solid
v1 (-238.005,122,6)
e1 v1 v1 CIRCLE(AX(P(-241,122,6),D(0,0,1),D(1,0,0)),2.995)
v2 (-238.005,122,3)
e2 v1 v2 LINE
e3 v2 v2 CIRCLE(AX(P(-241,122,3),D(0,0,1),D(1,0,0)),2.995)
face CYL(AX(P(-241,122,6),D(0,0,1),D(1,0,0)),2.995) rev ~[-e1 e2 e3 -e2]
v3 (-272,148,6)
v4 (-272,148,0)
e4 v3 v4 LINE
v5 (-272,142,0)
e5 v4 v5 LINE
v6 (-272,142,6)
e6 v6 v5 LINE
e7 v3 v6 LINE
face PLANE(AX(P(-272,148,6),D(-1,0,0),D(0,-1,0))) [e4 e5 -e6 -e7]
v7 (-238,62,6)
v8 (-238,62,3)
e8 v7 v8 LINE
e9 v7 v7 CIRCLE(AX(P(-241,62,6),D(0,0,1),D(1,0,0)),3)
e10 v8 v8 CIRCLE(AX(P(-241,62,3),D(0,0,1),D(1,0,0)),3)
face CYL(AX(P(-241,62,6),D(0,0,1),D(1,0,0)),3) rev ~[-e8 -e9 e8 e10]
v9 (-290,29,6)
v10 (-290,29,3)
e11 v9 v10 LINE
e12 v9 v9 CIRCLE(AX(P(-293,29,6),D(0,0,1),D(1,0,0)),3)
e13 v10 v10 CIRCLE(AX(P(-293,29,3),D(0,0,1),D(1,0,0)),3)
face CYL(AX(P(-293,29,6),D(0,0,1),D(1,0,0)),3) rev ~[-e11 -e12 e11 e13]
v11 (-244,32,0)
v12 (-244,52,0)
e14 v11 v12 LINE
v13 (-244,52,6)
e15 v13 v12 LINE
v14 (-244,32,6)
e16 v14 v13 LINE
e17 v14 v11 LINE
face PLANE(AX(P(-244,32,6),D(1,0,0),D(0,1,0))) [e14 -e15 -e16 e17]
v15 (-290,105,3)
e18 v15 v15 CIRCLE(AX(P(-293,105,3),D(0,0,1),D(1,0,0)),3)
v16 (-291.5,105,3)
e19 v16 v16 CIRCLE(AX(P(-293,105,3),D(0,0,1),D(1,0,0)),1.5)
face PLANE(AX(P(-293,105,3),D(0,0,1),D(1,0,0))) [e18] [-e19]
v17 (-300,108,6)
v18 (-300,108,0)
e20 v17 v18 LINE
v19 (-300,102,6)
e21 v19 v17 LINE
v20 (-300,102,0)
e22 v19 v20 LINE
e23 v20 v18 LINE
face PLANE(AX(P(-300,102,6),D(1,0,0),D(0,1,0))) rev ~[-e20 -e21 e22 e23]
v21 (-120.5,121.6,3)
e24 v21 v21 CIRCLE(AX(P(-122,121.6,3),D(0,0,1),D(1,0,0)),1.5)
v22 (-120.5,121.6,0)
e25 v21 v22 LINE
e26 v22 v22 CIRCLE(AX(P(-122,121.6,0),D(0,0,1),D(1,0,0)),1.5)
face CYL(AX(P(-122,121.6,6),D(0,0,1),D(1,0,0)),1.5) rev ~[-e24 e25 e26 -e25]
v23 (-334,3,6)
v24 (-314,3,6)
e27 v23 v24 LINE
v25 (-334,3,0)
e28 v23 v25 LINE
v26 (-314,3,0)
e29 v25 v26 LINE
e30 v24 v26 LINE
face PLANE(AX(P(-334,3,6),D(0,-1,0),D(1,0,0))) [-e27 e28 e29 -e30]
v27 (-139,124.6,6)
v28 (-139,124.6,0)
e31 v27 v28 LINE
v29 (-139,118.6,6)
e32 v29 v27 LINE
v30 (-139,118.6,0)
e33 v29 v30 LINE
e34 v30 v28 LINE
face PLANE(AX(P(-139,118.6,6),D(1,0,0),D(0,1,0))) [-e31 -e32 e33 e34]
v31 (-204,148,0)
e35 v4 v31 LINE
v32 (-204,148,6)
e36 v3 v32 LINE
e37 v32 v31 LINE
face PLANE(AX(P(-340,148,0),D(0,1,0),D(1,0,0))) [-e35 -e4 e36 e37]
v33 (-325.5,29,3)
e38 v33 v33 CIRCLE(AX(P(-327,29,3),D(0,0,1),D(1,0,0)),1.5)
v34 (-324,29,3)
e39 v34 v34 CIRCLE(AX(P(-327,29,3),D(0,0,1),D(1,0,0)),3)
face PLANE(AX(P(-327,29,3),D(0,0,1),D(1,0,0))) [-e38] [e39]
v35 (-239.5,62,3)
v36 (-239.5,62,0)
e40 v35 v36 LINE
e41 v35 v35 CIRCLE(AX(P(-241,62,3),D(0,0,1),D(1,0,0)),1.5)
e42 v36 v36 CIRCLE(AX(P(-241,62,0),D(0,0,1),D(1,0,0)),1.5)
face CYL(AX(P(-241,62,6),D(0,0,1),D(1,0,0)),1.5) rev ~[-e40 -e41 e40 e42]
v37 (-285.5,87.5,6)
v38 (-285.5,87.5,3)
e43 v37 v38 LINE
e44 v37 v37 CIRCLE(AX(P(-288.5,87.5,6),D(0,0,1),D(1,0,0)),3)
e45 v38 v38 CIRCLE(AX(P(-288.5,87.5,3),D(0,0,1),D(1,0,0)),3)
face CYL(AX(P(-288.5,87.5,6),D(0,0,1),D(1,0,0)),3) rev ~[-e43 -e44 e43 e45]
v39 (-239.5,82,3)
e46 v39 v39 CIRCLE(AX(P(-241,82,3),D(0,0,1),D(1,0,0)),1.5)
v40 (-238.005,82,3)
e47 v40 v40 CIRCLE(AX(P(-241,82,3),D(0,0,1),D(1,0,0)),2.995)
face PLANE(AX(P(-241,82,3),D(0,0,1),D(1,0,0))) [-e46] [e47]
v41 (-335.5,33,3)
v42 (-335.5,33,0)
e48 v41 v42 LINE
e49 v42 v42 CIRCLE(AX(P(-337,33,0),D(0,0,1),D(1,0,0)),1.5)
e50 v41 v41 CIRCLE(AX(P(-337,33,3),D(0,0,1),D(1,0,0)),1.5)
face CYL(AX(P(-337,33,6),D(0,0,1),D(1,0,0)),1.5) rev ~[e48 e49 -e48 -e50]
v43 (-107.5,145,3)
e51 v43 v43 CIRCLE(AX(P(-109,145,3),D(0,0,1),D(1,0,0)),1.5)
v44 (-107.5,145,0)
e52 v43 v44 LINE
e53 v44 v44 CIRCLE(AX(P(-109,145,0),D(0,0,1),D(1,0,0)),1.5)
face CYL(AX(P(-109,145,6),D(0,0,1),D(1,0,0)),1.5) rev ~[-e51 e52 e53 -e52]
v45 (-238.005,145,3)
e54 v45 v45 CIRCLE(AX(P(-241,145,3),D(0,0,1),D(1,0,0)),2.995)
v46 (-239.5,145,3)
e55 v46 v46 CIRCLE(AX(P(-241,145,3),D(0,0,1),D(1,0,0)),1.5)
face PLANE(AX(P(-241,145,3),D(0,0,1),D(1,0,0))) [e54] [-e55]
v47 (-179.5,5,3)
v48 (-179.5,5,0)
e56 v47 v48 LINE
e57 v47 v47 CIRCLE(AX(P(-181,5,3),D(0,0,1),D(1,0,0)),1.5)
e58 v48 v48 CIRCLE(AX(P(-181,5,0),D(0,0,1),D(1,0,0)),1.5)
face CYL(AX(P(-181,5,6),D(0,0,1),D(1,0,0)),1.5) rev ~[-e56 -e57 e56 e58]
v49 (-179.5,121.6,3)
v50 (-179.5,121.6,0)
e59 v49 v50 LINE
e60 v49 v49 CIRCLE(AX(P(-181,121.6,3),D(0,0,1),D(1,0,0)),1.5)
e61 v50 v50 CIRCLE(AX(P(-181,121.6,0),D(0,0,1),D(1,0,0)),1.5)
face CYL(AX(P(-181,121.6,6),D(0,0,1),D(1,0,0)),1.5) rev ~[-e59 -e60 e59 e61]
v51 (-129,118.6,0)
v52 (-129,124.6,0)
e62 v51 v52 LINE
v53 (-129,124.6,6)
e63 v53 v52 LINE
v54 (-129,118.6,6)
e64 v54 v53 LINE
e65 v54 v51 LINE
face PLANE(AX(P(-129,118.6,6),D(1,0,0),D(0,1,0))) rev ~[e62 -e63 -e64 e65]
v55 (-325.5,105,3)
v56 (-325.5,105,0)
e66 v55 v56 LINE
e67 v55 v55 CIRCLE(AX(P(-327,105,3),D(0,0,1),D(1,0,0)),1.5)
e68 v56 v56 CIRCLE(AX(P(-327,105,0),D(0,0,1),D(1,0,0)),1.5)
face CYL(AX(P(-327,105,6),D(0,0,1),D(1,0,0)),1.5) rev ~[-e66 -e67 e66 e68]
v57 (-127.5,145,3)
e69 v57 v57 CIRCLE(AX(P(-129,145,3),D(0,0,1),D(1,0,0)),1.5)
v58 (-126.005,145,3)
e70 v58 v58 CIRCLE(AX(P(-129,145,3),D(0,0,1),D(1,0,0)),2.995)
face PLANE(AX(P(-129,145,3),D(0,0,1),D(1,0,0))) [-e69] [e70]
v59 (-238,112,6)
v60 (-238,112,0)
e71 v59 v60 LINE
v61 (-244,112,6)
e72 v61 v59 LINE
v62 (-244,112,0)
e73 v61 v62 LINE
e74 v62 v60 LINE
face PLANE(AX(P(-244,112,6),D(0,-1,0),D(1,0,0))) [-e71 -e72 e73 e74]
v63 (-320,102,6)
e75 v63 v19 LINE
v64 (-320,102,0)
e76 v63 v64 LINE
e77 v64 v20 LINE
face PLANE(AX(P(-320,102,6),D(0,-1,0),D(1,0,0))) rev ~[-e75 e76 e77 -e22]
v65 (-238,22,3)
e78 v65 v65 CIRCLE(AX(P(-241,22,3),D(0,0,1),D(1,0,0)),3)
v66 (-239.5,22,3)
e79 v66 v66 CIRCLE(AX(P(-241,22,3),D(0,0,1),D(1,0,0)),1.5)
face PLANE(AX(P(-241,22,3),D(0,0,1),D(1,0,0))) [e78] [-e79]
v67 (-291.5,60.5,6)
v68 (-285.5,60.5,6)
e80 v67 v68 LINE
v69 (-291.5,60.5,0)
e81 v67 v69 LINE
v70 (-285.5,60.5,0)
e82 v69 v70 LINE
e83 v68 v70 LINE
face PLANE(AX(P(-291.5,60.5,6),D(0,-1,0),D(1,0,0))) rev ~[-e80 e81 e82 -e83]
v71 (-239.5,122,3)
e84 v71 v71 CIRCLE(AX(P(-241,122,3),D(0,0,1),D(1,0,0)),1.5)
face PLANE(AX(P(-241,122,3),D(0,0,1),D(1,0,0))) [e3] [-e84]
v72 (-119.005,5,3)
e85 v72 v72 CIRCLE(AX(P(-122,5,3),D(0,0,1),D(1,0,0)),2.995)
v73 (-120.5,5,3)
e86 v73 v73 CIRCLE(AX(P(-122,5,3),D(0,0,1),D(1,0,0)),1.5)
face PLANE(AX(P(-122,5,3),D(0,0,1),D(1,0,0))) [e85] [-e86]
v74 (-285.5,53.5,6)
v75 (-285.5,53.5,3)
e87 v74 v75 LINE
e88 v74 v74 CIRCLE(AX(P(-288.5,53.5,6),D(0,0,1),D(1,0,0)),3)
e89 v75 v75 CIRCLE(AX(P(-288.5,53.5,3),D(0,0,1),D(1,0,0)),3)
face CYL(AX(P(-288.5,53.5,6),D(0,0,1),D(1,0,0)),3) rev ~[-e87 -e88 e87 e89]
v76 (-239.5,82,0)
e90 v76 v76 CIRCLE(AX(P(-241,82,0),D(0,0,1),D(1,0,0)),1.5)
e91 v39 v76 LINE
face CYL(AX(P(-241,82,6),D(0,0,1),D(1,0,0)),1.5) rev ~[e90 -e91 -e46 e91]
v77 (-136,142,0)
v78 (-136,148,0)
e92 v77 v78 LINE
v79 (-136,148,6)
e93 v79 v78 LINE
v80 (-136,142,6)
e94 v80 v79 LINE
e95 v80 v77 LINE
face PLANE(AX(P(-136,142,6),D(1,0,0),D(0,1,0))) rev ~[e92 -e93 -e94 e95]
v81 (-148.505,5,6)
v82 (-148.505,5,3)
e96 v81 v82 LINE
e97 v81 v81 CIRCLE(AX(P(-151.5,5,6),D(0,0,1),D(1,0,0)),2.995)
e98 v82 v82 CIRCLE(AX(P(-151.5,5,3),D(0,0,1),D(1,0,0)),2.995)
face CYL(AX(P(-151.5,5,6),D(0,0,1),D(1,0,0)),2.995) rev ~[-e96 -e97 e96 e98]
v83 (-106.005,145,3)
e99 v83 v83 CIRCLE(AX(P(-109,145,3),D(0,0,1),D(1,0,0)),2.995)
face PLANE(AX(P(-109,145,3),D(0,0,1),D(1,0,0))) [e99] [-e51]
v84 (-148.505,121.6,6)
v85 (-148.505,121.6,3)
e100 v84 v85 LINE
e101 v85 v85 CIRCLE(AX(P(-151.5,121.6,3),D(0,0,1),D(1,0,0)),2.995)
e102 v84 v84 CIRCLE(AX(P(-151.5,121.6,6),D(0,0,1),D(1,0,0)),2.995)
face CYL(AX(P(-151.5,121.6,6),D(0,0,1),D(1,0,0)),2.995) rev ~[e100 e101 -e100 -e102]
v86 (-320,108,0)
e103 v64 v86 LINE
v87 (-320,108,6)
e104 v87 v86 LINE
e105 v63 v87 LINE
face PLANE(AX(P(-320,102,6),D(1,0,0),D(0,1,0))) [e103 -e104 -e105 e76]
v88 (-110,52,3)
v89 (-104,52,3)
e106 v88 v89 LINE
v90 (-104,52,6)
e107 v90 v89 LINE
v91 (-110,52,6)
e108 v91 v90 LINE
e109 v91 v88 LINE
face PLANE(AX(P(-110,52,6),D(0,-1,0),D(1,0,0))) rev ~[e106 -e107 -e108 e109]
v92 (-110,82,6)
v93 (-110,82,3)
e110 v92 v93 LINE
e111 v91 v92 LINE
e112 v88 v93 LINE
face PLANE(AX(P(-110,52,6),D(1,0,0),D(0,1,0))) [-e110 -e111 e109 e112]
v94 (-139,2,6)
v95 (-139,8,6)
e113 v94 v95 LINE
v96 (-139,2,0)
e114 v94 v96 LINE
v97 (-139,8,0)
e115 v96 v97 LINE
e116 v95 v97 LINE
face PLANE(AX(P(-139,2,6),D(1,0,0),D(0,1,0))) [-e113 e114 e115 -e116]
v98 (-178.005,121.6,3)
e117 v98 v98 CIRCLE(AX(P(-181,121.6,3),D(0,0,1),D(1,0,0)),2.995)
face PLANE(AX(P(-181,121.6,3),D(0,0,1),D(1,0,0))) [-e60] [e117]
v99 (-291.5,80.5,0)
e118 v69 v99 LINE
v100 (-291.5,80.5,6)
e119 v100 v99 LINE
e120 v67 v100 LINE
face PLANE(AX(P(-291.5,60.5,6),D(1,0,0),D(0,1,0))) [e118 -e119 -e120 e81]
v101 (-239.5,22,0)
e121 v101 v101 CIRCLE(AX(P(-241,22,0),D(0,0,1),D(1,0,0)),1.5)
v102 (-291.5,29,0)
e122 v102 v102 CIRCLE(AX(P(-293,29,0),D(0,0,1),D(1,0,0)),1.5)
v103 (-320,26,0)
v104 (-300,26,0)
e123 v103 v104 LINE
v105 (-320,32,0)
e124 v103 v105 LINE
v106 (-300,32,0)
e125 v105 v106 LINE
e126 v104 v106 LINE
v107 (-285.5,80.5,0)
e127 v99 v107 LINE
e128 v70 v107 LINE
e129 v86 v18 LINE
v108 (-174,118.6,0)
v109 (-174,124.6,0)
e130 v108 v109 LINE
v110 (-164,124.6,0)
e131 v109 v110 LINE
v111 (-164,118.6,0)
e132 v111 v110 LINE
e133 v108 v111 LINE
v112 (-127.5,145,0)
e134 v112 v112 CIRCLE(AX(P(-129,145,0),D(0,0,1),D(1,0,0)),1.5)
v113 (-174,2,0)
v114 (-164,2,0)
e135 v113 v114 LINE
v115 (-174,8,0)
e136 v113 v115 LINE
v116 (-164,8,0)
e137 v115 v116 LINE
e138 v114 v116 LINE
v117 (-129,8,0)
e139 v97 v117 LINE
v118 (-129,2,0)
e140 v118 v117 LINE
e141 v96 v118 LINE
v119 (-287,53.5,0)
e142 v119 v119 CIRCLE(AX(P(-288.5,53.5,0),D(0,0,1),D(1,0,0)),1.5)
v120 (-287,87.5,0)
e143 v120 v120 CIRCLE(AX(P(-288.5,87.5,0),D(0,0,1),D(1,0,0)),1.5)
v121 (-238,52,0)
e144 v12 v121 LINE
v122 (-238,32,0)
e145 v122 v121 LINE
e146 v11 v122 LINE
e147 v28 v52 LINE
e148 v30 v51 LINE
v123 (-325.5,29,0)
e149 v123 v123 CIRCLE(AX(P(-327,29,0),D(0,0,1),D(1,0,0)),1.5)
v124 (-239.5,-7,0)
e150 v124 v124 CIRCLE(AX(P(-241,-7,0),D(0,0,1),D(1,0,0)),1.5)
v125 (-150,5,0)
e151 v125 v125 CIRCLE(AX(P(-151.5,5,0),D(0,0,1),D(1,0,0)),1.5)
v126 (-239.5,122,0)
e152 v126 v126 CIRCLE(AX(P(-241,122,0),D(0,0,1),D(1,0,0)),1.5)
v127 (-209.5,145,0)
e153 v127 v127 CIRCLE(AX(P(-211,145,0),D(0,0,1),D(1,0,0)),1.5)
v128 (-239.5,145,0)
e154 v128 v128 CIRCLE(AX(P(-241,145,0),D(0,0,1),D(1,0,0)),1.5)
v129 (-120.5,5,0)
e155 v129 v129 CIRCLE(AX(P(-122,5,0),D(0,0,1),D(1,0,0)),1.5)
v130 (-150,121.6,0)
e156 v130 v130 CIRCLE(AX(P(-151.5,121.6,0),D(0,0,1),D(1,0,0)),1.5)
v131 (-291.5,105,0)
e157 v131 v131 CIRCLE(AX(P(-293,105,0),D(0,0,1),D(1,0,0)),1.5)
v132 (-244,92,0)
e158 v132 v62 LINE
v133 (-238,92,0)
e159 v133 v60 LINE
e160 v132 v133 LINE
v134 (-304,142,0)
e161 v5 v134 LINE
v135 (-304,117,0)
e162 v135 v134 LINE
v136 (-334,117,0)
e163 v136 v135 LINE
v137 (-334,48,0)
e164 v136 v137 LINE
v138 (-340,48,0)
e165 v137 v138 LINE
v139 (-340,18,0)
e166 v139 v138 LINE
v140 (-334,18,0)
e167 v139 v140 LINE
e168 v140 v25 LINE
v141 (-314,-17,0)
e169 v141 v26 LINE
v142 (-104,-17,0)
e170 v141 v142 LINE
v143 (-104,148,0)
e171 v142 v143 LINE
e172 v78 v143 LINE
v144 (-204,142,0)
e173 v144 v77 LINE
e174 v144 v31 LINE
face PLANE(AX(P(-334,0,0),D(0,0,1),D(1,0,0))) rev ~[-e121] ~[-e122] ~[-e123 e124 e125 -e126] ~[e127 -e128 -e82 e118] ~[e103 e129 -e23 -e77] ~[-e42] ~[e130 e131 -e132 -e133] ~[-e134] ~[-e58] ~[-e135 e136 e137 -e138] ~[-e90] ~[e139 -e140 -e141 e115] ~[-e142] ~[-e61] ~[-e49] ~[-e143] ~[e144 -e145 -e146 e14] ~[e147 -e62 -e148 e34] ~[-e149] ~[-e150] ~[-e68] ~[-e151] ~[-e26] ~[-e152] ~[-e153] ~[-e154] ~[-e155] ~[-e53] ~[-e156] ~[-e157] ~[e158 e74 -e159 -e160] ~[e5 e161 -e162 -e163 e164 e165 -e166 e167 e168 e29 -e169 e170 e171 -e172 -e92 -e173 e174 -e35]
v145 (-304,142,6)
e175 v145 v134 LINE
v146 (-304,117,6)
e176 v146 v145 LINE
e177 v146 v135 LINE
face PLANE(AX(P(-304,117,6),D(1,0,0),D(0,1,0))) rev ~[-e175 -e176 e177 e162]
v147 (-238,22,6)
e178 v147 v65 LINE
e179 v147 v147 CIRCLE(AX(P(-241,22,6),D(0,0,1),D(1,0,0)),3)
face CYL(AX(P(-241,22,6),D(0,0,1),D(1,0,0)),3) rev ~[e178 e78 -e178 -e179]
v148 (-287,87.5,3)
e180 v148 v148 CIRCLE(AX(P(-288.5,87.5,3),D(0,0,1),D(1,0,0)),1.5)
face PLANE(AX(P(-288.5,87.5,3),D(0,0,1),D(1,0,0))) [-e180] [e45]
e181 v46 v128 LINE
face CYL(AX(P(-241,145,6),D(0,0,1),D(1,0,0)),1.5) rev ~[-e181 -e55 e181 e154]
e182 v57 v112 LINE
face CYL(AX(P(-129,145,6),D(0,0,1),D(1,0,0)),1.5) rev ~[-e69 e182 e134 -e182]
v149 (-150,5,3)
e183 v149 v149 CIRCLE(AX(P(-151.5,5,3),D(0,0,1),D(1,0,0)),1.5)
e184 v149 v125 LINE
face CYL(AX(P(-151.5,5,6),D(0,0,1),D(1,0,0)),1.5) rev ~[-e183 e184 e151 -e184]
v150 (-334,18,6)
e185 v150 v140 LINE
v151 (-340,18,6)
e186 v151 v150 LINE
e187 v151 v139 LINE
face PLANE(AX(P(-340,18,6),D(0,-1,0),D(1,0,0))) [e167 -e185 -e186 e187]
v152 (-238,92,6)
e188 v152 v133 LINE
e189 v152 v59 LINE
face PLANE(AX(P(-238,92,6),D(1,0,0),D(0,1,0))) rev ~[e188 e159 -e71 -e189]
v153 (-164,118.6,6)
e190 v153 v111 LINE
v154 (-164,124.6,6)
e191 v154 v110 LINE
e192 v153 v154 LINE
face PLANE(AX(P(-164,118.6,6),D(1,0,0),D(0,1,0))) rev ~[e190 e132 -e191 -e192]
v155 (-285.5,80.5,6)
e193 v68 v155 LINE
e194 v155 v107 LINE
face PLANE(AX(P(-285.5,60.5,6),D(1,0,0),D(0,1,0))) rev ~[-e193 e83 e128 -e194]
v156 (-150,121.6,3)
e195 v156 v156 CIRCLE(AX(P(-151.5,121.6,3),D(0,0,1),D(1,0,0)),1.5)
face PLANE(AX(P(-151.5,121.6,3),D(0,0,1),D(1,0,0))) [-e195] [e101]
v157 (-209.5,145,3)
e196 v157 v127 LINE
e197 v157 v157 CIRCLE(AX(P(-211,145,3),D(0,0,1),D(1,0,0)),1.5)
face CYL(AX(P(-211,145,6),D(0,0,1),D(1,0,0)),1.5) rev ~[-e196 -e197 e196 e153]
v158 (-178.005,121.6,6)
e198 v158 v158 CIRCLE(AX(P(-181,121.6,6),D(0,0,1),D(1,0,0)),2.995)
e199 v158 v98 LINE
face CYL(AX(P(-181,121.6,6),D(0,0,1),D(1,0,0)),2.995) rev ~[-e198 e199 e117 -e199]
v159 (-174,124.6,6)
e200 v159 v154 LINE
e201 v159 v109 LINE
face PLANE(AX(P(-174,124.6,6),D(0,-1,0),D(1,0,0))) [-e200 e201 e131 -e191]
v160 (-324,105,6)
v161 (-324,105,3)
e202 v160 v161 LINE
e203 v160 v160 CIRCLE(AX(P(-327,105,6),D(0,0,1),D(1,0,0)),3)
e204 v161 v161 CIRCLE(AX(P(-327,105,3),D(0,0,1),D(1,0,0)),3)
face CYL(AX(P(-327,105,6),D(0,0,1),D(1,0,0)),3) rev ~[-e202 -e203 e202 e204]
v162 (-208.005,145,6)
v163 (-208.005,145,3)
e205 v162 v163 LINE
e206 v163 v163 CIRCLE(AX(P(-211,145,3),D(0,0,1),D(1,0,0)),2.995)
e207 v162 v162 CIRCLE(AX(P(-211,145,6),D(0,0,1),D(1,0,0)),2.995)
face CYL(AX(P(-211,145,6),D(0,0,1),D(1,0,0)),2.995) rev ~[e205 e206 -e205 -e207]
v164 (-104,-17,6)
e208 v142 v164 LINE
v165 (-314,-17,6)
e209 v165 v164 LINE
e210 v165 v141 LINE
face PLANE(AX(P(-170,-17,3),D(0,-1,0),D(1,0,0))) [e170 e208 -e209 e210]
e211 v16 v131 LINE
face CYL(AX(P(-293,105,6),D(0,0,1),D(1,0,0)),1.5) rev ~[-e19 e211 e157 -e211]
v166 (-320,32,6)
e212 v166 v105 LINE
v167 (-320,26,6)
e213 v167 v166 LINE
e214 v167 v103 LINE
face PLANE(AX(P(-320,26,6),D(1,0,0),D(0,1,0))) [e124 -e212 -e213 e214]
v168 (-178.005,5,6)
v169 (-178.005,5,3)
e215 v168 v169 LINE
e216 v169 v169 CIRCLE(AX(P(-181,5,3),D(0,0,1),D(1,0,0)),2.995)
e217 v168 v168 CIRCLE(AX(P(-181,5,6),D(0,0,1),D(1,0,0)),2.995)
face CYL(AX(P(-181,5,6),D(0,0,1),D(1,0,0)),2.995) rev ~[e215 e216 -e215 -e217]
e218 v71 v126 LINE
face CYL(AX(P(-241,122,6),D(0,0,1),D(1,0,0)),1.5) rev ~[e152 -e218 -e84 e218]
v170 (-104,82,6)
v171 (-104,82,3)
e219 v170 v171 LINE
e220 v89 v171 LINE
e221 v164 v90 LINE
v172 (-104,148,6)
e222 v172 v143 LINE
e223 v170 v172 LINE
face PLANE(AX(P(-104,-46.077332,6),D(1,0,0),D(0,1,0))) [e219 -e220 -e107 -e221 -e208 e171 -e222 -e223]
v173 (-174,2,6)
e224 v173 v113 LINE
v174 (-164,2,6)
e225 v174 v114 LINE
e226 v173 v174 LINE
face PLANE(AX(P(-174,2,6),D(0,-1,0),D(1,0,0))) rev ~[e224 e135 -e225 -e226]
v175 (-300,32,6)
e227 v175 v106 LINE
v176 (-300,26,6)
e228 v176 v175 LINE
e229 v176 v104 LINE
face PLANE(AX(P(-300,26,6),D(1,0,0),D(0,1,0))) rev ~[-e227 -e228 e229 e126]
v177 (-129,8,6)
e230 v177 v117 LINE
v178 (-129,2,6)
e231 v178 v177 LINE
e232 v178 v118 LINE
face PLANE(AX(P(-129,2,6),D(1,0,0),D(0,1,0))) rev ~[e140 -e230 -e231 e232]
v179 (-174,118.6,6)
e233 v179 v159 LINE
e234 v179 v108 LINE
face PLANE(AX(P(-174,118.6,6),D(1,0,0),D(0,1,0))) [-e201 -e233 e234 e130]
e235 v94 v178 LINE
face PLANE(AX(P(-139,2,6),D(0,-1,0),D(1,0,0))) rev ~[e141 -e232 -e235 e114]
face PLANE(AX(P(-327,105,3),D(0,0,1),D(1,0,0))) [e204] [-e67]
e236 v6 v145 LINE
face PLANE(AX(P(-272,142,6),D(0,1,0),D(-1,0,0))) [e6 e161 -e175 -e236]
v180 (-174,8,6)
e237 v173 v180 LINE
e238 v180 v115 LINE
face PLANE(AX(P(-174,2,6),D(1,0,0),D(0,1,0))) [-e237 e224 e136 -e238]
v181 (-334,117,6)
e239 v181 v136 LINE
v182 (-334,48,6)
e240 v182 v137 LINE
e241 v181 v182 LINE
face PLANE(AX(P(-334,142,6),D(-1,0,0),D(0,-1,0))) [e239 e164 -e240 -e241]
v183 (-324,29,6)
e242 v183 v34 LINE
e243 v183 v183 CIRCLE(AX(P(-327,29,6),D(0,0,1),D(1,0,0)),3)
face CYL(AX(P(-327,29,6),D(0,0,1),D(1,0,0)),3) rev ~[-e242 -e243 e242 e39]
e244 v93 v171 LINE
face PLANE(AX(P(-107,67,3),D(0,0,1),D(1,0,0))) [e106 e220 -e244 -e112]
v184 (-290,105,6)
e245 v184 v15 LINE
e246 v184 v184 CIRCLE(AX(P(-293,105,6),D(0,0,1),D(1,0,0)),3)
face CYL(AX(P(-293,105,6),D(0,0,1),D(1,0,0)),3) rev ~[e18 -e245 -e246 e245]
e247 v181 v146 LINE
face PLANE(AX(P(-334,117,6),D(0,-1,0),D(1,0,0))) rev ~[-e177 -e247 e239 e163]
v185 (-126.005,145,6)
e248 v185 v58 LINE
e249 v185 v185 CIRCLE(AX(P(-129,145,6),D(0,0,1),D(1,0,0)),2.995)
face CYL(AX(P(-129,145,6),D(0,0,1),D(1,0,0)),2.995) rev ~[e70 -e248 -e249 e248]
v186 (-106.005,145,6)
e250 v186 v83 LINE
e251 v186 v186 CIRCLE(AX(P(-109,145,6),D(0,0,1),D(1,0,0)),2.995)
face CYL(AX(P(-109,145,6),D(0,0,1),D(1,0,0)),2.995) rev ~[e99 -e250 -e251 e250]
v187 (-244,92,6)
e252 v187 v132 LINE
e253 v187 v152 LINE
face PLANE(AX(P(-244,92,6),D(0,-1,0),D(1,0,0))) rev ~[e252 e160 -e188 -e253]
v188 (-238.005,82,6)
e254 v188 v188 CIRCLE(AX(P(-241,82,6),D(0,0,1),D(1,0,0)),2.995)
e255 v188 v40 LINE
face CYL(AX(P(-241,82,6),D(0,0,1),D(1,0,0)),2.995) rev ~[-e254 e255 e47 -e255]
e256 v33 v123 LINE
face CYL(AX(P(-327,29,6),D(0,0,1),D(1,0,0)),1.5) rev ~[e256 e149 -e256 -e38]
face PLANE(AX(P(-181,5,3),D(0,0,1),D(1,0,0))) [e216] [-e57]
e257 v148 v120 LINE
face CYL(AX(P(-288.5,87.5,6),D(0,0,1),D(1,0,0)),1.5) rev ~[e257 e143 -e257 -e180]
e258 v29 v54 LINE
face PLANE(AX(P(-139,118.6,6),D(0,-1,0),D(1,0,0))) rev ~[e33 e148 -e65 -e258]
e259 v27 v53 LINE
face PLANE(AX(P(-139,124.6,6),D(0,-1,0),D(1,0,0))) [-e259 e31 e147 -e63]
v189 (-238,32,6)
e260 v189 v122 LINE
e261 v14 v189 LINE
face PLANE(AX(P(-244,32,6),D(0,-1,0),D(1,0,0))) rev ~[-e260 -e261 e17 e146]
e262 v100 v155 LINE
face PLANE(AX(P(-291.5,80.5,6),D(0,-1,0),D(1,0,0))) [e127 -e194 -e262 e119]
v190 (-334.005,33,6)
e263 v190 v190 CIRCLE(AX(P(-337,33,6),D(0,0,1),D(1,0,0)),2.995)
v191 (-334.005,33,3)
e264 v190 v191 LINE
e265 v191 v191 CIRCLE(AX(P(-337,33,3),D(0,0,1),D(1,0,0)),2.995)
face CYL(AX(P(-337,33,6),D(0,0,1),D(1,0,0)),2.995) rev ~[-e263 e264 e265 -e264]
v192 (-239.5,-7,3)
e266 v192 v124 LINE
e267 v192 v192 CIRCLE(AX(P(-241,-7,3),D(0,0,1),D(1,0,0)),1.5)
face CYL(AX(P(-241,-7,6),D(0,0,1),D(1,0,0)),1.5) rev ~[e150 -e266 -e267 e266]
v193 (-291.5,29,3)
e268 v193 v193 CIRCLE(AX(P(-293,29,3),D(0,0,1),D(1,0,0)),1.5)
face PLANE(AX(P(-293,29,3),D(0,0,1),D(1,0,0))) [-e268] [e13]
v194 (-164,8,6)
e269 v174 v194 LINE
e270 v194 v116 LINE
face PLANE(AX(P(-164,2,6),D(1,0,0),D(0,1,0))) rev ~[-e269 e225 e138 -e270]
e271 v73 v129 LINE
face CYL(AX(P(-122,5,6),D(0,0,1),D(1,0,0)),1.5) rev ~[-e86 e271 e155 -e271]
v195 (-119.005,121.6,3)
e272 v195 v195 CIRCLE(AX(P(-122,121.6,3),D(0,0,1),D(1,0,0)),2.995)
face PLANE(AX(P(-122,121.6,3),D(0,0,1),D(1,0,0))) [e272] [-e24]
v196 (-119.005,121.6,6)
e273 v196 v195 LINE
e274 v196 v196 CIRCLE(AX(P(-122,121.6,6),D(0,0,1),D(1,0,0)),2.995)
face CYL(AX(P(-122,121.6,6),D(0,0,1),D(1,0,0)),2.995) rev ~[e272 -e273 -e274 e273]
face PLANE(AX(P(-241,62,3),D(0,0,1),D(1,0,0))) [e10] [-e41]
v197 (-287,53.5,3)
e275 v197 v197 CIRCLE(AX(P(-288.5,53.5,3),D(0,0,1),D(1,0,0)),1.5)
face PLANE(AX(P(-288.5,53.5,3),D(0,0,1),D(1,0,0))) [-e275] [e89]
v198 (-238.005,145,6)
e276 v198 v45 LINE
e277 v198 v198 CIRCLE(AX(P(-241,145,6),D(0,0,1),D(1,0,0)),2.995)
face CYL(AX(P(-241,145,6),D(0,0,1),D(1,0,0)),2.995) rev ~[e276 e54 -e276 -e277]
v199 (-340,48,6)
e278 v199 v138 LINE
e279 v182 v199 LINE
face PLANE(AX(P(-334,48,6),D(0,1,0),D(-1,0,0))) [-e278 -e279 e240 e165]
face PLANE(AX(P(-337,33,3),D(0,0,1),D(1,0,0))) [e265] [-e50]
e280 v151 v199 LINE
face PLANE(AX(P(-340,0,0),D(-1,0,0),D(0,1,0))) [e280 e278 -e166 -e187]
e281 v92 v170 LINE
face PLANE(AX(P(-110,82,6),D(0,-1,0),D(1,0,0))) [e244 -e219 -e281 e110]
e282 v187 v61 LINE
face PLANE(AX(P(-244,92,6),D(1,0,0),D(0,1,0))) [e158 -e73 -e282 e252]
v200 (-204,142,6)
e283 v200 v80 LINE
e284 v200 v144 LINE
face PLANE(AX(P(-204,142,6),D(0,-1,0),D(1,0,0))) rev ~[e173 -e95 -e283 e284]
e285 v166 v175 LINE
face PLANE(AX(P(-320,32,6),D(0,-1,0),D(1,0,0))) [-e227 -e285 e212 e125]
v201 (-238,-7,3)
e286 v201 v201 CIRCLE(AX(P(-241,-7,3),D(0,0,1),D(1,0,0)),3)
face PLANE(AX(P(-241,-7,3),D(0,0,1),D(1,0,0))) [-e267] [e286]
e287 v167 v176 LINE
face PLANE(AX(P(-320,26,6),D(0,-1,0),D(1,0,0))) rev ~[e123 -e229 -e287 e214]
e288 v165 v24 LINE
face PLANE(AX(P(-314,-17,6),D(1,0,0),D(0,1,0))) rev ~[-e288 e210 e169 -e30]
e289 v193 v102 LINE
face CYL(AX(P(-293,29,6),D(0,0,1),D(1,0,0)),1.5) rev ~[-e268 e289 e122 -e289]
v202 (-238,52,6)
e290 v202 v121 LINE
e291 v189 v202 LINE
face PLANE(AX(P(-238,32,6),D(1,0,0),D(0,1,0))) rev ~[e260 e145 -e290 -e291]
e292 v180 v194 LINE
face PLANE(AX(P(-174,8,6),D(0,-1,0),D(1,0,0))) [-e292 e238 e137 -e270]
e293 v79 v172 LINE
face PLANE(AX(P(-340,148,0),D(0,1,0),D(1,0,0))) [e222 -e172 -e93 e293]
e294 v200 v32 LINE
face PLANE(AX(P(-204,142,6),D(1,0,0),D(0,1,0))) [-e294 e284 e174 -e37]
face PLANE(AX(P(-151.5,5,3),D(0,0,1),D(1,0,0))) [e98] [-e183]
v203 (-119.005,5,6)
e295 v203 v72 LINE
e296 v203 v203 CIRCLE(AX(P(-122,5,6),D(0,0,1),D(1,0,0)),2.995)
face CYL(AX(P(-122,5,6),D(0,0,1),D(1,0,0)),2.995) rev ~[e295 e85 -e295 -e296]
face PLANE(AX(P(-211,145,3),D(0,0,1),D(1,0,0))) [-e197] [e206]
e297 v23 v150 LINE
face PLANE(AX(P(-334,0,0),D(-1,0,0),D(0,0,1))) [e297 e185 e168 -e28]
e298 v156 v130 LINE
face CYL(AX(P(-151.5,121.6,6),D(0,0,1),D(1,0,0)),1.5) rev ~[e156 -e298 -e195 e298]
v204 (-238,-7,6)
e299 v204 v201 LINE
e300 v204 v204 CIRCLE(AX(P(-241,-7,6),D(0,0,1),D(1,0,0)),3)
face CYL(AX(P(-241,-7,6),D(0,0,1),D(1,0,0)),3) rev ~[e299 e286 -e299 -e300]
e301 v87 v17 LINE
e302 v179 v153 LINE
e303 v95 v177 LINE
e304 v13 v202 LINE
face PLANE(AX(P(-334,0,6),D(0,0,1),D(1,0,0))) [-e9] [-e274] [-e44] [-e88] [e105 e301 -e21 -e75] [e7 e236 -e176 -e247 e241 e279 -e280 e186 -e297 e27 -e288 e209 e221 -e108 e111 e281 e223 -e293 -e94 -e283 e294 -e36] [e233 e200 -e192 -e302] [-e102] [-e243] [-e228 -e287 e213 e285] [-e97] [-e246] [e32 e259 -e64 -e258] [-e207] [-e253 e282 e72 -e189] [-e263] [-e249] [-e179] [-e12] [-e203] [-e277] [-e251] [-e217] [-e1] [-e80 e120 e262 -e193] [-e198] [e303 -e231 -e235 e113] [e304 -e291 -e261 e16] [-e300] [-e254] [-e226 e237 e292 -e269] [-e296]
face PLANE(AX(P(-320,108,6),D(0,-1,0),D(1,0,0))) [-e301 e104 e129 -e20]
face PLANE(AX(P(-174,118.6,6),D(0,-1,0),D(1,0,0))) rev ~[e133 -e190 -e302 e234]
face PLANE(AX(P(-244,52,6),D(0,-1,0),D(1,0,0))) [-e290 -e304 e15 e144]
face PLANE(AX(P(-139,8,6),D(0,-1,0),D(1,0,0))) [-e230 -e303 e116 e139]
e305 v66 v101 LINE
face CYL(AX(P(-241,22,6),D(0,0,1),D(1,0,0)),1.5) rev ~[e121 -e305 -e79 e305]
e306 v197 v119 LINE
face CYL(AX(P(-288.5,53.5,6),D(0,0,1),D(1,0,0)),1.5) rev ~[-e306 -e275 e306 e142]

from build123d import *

# Parameters (mm, degrees)
ESQUISSE1_W              = 340
ESQUISSE1_H              = 148
BOSS_EXTRU_1_DEPTH       = 6
ESQUISSE2_W              = 6
ESQUISSE2_H              = 28
ESQUISSE2_H_2            = 18
ESQUISSE2_W_2            = 68
ESQUISSE2_H_3            = 6
ESQUISSE2_H_4            = 30
ENL_V_MAT_EXTRU_1_DEPTH  = 6
ESQUISSE3_W              = 6
ESQUISSE3_H              = 20
ESQUISSE3_W_2            = 30
ESQUISSE3_H_2            = 25
ESQUISSE3_W_3            = 20
ESQUISSE3_H_3            = 6
ENL_V_MAT_EXTRU_2_DEPTH  = 10
ESQUISSE4_R              = 1.5
ESQUISSE4_W              = 10
ESQUISSE4_H              = 6
ENL_V_MAT_EXTRU_3_DEPTH  = 10
ESQUISSE7_W              = 328
ESQUISSE7_H              = 6
BOSS_EXTRU_2_DEPTH       = 17
ESQUISSE8_R              = 1.5
ESQUISSE8_W              = 20
ESQUISSE8_H              = 20
ENL_V_MAT_EXTRU_5_DEPTH  = 371.863856422
ESQUISSE9_R              = 2.995
ESQUISSE9_R_2            = 3
ENL_V_MAT_EXTRU_8_DEPTH  = 3
ESQUISSE10_W             = 130.302032554
ESQUISSE10_H             = 194.077332213
ENL_V_MAT_EXTRU_9_DEPTH  = 371.863856422
ESQUISSE11_W             = 6
ESQUISSE11_H             = 30
ENL_V_MAT_EXTRU_10_DEPTH = 3


with BuildPart() as part:
    # Esquisse1 → Boss.-Extru.1 (new body)
    with BuildSketch(Plane.XY):
        with Locations((-170, 74)):
            Rectangle(ESQUISSE1_W, ESQUISSE1_H)
    extrude(amount=BOSS_EXTRU_1_DEPTH)

    # Esquisse2 → Enlèv. mat.-Extru.1 (cut)
    with BuildSketch(Plane.XY.offset(6)):
        Polygon((-272, 142), (-334, 142), (-334, 48), (-340, 48), (-340, 148), (-272, 148), align=None)
        Polygon((0, 148), (0, 118), (-6, 118), (-6, 142), (-68, 142), (-68, 148), align=None)
        with Locations((-3, 14)):
            Rectangle(ESQUISSE2_W, ESQUISSE2_H)
        with Locations((-337, 9)):
            Rectangle(ESQUISSE2_W, ESQUISSE2_H_2)
        with Locations((-170, 145)):
            Rectangle(ESQUISSE2_W_2, ESQUISSE2_H_3)
        with Locations((-3, 73)):
            Rectangle(ESQUISSE2_W, ESQUISSE2_H_4)
    extrude(amount=-ENL_V_MAT_EXTRU_1_DEPTH, mode=Mode.SUBTRACT)

    # Esquisse3 → Enlèv. mat.-Extru.2 (cut)
    with BuildSketch(Plane.XY.offset(6)):
        with Locations((-241, 42)):
            Rectangle(ESQUISSE3_W, ESQUISSE3_H)
        with Locations((-241, 102)):
            Rectangle(ESQUISSE3_W, ESQUISSE3_H)
        with Locations((-288.5, 70.5)):
            Rectangle(ESQUISSE3_W, ESQUISSE3_H)
        with Locations((-319, 129.5)):
            Rectangle(ESQUISSE3_W_2, ESQUISSE3_H_2)
        with Locations((-310, 105)):
            Rectangle(ESQUISSE3_W_3, ESQUISSE3_H_3)
        with Locations((-310, 29)):
            Rectangle(ESQUISSE3_W_3, ESQUISSE3_H_3)
        with Locations((-67, 102)):
            Rectangle(ESQUISSE3_W, ESQUISSE3_H)
    extrude(amount=-ENL_V_MAT_EXTRU_2_DEPTH, mode=Mode.SUBTRACT)

    # Esquisse4 → Enlèv. mat.-Extru.3 (cut)
    with BuildSketch(Plane.XY.offset(6)):
        with Locations((-151.5, 121.6)):
            Circle(ESQUISSE4_R)
        with Locations((-151.5, 5)):
            Circle(ESQUISSE4_R)
        with Locations((-169, 121.6)):
            Rectangle(ESQUISSE4_W, ESQUISSE4_H)
        with Locations((-134, 121.6)):
            Rectangle(ESQUISSE4_W, ESQUISSE4_H)
        with Locations((-134, 5)):
            Rectangle(ESQUISSE4_W, ESQUISSE4_H)
        with Locations((-169, 5)):
            Rectangle(ESQUISSE4_W, ESQUISSE4_H)
    extrude(amount=-ENL_V_MAT_EXTRU_3_DEPTH, mode=Mode.SUBTRACT)

    # Esquisse7 → Boss.-Extru.2 (add)
    with BuildSketch(Plane.XZ):
        with Locations((-170, 3)):
            Rectangle(ESQUISSE7_W, ESQUISSE7_H)
    extrude(amount=BOSS_EXTRU_2_DEPTH)

    # Esquisse8 → Enlèv. mat.-Extru.5 (cut, through all)
    with BuildSketch(Plane.XY.offset(6)):
        with Locations((-75, 145)):
            Circle(ESQUISSE8_R)
        with Locations((-129, 145)):
            Circle(ESQUISSE8_R)
        with Locations((-109, 145)):
            Circle(ESQUISSE8_R)
        with Locations((-3, 111)):
            Circle(ESQUISSE8_R)
        with Locations((-3, 95)):
            Circle(ESQUISSE8_R)
        with Locations((-3, 51)):
            Circle(ESQUISSE8_R)
        with Locations((-3, 35)):
            Circle(ESQUISSE8_R)
        with Locations((-122, 121.6)):
            Circle(ESQUISSE8_R)
        with Locations((-181, 121.6)):
            Circle(ESQUISSE8_R)
        with Locations((-122, 5)):
            Circle(ESQUISSE8_R)
        with Locations((-181, 5)):
            Circle(ESQUISSE8_R)
        with Locations((-211, 145)):
            Circle(ESQUISSE8_R)
        with Locations((-241, 145)):
            Circle(ESQUISSE8_R)
        with Locations((-241, 122)):
            Circle(ESQUISSE8_R)
        with Locations((-241, 82)):
            Circle(ESQUISSE8_R)
        with Locations((-241, 62)):
            Circle(ESQUISSE8_R)
        with Locations((-241, 22)):
            Circle(ESQUISSE8_R)
        with Locations((-241, -7)):
            Circle(ESQUISSE8_R)
        with Locations((-288.5, 87.5)):
            Circle(ESQUISSE8_R)
        with Locations((-288.5, 53.5)):
            Circle(ESQUISSE8_R)
        with Locations((-293, 105)):
            Circle(ESQUISSE8_R)
        with Locations((-327, 105)):
            Circle(ESQUISSE8_R)
        with Locations((-293, 29)):
            Circle(ESQUISSE8_R)
        with Locations((-327, 29)):
            Circle(ESQUISSE8_R)
        with Locations((-337, 33)):
            Circle(ESQUISSE8_R)
        with Locations((-324, -7)):
            Rectangle(ESQUISSE8_W, ESQUISSE8_H)
    extrude(amount=-ENL_V_MAT_EXTRU_5_DEPTH, mode=Mode.SUBTRACT)

    # Esquisse9 → Enlèv. mat.-Extru.8 (cut)
    with BuildSketch(Plane.XY.offset(6)):
        with Locations((-337, 33)):
            Circle(ESQUISSE9_R)
        with Locations((-327, 29)):
            Circle(ESQUISSE9_R_2)
        with Locations((-293, 29)):
            Circle(ESQUISSE9_R_2)
        with Locations((-288.5, 53.5)):
            Circle(ESQUISSE9_R_2)
        with Locations((-288.5, 87.5)):
            Circle(ESQUISSE9_R_2)
        with Locations((-293, 105)):
            Circle(ESQUISSE9_R_2)
        with Locations((-327, 105)):
            Circle(ESQUISSE9_R_2)
        with Locations((-241, 145)):
            Circle(ESQUISSE9_R)
        with Locations((-241, 122)):
            Circle(ESQUISSE9_R)
        with Locations((-241, 82)):
            Circle(ESQUISSE9_R)
        with Locations((-241, 62)):
            Circle(ESQUISSE9_R_2)
        with Locations((-241, 22)):
            Circle(ESQUISSE9_R_2)
        with Locations((-241, -7)):
            Circle(ESQUISSE9_R_2)
        with Locations((-211, 145)):
            Circle(ESQUISSE9_R)
        with Locations((-181, 121.6)):
            Circle(ESQUISSE9_R)
        with Locations((-151.5, 121.6)):
            Circle(ESQUISSE9_R)
        with Locations((-129, 145)):
            Circle(ESQUISSE9_R)
        with Locations((-122, 121.6)):
            Circle(ESQUISSE9_R)
        with Locations((-109, 145)):
            Circle(ESQUISSE9_R)
        with Locations((-122, 5)):
            Circle(ESQUISSE9_R)
        with Locations((-151.5, 5)):
            Circle(ESQUISSE9_R)
        with Locations((-181, 5)):
            Circle(ESQUISSE9_R)
        with Locations((-75, 145)):
            Circle(ESQUISSE9_R)
        with Locations((-3, 111)):
            Circle(ESQUISSE9_R)
        with Locations((-3, 95)):
            Circle(ESQUISSE9_R)
        with Locations((-3, 51)):
            Circle(ESQUISSE9_R)
        with Locations((-3, 35)):
            Circle(ESQUISSE9_R)
    extrude(amount=-ENL_V_MAT_EXTRU_8_DEPTH, mode=Mode.SUBTRACT)

    # Esquisse10 → Enlèv. mat.-Extru.9 (cut, through all)
    with BuildSketch(Plane.XY.offset(6)):
        with Locations((-38.848983723, 50.961333893)):
            Rectangle(ESQUISSE10_W, ESQUISSE10_H)
    extrude(amount=-ENL_V_MAT_EXTRU_9_DEPTH, mode=Mode.SUBTRACT)

    # Esquisse11 → Enlèv. mat.-Extru.10 (cut)
    with BuildSketch(Plane.XY.offset(6)):
        with Locations((-107, 67)):
            Rectangle(ESQUISSE11_W, ESQUISSE11_H)
    extrude(amount=-ENL_V_MAT_EXTRU_10_DEPTH, mode=Mode.SUBTRACT)


solid = part.part
